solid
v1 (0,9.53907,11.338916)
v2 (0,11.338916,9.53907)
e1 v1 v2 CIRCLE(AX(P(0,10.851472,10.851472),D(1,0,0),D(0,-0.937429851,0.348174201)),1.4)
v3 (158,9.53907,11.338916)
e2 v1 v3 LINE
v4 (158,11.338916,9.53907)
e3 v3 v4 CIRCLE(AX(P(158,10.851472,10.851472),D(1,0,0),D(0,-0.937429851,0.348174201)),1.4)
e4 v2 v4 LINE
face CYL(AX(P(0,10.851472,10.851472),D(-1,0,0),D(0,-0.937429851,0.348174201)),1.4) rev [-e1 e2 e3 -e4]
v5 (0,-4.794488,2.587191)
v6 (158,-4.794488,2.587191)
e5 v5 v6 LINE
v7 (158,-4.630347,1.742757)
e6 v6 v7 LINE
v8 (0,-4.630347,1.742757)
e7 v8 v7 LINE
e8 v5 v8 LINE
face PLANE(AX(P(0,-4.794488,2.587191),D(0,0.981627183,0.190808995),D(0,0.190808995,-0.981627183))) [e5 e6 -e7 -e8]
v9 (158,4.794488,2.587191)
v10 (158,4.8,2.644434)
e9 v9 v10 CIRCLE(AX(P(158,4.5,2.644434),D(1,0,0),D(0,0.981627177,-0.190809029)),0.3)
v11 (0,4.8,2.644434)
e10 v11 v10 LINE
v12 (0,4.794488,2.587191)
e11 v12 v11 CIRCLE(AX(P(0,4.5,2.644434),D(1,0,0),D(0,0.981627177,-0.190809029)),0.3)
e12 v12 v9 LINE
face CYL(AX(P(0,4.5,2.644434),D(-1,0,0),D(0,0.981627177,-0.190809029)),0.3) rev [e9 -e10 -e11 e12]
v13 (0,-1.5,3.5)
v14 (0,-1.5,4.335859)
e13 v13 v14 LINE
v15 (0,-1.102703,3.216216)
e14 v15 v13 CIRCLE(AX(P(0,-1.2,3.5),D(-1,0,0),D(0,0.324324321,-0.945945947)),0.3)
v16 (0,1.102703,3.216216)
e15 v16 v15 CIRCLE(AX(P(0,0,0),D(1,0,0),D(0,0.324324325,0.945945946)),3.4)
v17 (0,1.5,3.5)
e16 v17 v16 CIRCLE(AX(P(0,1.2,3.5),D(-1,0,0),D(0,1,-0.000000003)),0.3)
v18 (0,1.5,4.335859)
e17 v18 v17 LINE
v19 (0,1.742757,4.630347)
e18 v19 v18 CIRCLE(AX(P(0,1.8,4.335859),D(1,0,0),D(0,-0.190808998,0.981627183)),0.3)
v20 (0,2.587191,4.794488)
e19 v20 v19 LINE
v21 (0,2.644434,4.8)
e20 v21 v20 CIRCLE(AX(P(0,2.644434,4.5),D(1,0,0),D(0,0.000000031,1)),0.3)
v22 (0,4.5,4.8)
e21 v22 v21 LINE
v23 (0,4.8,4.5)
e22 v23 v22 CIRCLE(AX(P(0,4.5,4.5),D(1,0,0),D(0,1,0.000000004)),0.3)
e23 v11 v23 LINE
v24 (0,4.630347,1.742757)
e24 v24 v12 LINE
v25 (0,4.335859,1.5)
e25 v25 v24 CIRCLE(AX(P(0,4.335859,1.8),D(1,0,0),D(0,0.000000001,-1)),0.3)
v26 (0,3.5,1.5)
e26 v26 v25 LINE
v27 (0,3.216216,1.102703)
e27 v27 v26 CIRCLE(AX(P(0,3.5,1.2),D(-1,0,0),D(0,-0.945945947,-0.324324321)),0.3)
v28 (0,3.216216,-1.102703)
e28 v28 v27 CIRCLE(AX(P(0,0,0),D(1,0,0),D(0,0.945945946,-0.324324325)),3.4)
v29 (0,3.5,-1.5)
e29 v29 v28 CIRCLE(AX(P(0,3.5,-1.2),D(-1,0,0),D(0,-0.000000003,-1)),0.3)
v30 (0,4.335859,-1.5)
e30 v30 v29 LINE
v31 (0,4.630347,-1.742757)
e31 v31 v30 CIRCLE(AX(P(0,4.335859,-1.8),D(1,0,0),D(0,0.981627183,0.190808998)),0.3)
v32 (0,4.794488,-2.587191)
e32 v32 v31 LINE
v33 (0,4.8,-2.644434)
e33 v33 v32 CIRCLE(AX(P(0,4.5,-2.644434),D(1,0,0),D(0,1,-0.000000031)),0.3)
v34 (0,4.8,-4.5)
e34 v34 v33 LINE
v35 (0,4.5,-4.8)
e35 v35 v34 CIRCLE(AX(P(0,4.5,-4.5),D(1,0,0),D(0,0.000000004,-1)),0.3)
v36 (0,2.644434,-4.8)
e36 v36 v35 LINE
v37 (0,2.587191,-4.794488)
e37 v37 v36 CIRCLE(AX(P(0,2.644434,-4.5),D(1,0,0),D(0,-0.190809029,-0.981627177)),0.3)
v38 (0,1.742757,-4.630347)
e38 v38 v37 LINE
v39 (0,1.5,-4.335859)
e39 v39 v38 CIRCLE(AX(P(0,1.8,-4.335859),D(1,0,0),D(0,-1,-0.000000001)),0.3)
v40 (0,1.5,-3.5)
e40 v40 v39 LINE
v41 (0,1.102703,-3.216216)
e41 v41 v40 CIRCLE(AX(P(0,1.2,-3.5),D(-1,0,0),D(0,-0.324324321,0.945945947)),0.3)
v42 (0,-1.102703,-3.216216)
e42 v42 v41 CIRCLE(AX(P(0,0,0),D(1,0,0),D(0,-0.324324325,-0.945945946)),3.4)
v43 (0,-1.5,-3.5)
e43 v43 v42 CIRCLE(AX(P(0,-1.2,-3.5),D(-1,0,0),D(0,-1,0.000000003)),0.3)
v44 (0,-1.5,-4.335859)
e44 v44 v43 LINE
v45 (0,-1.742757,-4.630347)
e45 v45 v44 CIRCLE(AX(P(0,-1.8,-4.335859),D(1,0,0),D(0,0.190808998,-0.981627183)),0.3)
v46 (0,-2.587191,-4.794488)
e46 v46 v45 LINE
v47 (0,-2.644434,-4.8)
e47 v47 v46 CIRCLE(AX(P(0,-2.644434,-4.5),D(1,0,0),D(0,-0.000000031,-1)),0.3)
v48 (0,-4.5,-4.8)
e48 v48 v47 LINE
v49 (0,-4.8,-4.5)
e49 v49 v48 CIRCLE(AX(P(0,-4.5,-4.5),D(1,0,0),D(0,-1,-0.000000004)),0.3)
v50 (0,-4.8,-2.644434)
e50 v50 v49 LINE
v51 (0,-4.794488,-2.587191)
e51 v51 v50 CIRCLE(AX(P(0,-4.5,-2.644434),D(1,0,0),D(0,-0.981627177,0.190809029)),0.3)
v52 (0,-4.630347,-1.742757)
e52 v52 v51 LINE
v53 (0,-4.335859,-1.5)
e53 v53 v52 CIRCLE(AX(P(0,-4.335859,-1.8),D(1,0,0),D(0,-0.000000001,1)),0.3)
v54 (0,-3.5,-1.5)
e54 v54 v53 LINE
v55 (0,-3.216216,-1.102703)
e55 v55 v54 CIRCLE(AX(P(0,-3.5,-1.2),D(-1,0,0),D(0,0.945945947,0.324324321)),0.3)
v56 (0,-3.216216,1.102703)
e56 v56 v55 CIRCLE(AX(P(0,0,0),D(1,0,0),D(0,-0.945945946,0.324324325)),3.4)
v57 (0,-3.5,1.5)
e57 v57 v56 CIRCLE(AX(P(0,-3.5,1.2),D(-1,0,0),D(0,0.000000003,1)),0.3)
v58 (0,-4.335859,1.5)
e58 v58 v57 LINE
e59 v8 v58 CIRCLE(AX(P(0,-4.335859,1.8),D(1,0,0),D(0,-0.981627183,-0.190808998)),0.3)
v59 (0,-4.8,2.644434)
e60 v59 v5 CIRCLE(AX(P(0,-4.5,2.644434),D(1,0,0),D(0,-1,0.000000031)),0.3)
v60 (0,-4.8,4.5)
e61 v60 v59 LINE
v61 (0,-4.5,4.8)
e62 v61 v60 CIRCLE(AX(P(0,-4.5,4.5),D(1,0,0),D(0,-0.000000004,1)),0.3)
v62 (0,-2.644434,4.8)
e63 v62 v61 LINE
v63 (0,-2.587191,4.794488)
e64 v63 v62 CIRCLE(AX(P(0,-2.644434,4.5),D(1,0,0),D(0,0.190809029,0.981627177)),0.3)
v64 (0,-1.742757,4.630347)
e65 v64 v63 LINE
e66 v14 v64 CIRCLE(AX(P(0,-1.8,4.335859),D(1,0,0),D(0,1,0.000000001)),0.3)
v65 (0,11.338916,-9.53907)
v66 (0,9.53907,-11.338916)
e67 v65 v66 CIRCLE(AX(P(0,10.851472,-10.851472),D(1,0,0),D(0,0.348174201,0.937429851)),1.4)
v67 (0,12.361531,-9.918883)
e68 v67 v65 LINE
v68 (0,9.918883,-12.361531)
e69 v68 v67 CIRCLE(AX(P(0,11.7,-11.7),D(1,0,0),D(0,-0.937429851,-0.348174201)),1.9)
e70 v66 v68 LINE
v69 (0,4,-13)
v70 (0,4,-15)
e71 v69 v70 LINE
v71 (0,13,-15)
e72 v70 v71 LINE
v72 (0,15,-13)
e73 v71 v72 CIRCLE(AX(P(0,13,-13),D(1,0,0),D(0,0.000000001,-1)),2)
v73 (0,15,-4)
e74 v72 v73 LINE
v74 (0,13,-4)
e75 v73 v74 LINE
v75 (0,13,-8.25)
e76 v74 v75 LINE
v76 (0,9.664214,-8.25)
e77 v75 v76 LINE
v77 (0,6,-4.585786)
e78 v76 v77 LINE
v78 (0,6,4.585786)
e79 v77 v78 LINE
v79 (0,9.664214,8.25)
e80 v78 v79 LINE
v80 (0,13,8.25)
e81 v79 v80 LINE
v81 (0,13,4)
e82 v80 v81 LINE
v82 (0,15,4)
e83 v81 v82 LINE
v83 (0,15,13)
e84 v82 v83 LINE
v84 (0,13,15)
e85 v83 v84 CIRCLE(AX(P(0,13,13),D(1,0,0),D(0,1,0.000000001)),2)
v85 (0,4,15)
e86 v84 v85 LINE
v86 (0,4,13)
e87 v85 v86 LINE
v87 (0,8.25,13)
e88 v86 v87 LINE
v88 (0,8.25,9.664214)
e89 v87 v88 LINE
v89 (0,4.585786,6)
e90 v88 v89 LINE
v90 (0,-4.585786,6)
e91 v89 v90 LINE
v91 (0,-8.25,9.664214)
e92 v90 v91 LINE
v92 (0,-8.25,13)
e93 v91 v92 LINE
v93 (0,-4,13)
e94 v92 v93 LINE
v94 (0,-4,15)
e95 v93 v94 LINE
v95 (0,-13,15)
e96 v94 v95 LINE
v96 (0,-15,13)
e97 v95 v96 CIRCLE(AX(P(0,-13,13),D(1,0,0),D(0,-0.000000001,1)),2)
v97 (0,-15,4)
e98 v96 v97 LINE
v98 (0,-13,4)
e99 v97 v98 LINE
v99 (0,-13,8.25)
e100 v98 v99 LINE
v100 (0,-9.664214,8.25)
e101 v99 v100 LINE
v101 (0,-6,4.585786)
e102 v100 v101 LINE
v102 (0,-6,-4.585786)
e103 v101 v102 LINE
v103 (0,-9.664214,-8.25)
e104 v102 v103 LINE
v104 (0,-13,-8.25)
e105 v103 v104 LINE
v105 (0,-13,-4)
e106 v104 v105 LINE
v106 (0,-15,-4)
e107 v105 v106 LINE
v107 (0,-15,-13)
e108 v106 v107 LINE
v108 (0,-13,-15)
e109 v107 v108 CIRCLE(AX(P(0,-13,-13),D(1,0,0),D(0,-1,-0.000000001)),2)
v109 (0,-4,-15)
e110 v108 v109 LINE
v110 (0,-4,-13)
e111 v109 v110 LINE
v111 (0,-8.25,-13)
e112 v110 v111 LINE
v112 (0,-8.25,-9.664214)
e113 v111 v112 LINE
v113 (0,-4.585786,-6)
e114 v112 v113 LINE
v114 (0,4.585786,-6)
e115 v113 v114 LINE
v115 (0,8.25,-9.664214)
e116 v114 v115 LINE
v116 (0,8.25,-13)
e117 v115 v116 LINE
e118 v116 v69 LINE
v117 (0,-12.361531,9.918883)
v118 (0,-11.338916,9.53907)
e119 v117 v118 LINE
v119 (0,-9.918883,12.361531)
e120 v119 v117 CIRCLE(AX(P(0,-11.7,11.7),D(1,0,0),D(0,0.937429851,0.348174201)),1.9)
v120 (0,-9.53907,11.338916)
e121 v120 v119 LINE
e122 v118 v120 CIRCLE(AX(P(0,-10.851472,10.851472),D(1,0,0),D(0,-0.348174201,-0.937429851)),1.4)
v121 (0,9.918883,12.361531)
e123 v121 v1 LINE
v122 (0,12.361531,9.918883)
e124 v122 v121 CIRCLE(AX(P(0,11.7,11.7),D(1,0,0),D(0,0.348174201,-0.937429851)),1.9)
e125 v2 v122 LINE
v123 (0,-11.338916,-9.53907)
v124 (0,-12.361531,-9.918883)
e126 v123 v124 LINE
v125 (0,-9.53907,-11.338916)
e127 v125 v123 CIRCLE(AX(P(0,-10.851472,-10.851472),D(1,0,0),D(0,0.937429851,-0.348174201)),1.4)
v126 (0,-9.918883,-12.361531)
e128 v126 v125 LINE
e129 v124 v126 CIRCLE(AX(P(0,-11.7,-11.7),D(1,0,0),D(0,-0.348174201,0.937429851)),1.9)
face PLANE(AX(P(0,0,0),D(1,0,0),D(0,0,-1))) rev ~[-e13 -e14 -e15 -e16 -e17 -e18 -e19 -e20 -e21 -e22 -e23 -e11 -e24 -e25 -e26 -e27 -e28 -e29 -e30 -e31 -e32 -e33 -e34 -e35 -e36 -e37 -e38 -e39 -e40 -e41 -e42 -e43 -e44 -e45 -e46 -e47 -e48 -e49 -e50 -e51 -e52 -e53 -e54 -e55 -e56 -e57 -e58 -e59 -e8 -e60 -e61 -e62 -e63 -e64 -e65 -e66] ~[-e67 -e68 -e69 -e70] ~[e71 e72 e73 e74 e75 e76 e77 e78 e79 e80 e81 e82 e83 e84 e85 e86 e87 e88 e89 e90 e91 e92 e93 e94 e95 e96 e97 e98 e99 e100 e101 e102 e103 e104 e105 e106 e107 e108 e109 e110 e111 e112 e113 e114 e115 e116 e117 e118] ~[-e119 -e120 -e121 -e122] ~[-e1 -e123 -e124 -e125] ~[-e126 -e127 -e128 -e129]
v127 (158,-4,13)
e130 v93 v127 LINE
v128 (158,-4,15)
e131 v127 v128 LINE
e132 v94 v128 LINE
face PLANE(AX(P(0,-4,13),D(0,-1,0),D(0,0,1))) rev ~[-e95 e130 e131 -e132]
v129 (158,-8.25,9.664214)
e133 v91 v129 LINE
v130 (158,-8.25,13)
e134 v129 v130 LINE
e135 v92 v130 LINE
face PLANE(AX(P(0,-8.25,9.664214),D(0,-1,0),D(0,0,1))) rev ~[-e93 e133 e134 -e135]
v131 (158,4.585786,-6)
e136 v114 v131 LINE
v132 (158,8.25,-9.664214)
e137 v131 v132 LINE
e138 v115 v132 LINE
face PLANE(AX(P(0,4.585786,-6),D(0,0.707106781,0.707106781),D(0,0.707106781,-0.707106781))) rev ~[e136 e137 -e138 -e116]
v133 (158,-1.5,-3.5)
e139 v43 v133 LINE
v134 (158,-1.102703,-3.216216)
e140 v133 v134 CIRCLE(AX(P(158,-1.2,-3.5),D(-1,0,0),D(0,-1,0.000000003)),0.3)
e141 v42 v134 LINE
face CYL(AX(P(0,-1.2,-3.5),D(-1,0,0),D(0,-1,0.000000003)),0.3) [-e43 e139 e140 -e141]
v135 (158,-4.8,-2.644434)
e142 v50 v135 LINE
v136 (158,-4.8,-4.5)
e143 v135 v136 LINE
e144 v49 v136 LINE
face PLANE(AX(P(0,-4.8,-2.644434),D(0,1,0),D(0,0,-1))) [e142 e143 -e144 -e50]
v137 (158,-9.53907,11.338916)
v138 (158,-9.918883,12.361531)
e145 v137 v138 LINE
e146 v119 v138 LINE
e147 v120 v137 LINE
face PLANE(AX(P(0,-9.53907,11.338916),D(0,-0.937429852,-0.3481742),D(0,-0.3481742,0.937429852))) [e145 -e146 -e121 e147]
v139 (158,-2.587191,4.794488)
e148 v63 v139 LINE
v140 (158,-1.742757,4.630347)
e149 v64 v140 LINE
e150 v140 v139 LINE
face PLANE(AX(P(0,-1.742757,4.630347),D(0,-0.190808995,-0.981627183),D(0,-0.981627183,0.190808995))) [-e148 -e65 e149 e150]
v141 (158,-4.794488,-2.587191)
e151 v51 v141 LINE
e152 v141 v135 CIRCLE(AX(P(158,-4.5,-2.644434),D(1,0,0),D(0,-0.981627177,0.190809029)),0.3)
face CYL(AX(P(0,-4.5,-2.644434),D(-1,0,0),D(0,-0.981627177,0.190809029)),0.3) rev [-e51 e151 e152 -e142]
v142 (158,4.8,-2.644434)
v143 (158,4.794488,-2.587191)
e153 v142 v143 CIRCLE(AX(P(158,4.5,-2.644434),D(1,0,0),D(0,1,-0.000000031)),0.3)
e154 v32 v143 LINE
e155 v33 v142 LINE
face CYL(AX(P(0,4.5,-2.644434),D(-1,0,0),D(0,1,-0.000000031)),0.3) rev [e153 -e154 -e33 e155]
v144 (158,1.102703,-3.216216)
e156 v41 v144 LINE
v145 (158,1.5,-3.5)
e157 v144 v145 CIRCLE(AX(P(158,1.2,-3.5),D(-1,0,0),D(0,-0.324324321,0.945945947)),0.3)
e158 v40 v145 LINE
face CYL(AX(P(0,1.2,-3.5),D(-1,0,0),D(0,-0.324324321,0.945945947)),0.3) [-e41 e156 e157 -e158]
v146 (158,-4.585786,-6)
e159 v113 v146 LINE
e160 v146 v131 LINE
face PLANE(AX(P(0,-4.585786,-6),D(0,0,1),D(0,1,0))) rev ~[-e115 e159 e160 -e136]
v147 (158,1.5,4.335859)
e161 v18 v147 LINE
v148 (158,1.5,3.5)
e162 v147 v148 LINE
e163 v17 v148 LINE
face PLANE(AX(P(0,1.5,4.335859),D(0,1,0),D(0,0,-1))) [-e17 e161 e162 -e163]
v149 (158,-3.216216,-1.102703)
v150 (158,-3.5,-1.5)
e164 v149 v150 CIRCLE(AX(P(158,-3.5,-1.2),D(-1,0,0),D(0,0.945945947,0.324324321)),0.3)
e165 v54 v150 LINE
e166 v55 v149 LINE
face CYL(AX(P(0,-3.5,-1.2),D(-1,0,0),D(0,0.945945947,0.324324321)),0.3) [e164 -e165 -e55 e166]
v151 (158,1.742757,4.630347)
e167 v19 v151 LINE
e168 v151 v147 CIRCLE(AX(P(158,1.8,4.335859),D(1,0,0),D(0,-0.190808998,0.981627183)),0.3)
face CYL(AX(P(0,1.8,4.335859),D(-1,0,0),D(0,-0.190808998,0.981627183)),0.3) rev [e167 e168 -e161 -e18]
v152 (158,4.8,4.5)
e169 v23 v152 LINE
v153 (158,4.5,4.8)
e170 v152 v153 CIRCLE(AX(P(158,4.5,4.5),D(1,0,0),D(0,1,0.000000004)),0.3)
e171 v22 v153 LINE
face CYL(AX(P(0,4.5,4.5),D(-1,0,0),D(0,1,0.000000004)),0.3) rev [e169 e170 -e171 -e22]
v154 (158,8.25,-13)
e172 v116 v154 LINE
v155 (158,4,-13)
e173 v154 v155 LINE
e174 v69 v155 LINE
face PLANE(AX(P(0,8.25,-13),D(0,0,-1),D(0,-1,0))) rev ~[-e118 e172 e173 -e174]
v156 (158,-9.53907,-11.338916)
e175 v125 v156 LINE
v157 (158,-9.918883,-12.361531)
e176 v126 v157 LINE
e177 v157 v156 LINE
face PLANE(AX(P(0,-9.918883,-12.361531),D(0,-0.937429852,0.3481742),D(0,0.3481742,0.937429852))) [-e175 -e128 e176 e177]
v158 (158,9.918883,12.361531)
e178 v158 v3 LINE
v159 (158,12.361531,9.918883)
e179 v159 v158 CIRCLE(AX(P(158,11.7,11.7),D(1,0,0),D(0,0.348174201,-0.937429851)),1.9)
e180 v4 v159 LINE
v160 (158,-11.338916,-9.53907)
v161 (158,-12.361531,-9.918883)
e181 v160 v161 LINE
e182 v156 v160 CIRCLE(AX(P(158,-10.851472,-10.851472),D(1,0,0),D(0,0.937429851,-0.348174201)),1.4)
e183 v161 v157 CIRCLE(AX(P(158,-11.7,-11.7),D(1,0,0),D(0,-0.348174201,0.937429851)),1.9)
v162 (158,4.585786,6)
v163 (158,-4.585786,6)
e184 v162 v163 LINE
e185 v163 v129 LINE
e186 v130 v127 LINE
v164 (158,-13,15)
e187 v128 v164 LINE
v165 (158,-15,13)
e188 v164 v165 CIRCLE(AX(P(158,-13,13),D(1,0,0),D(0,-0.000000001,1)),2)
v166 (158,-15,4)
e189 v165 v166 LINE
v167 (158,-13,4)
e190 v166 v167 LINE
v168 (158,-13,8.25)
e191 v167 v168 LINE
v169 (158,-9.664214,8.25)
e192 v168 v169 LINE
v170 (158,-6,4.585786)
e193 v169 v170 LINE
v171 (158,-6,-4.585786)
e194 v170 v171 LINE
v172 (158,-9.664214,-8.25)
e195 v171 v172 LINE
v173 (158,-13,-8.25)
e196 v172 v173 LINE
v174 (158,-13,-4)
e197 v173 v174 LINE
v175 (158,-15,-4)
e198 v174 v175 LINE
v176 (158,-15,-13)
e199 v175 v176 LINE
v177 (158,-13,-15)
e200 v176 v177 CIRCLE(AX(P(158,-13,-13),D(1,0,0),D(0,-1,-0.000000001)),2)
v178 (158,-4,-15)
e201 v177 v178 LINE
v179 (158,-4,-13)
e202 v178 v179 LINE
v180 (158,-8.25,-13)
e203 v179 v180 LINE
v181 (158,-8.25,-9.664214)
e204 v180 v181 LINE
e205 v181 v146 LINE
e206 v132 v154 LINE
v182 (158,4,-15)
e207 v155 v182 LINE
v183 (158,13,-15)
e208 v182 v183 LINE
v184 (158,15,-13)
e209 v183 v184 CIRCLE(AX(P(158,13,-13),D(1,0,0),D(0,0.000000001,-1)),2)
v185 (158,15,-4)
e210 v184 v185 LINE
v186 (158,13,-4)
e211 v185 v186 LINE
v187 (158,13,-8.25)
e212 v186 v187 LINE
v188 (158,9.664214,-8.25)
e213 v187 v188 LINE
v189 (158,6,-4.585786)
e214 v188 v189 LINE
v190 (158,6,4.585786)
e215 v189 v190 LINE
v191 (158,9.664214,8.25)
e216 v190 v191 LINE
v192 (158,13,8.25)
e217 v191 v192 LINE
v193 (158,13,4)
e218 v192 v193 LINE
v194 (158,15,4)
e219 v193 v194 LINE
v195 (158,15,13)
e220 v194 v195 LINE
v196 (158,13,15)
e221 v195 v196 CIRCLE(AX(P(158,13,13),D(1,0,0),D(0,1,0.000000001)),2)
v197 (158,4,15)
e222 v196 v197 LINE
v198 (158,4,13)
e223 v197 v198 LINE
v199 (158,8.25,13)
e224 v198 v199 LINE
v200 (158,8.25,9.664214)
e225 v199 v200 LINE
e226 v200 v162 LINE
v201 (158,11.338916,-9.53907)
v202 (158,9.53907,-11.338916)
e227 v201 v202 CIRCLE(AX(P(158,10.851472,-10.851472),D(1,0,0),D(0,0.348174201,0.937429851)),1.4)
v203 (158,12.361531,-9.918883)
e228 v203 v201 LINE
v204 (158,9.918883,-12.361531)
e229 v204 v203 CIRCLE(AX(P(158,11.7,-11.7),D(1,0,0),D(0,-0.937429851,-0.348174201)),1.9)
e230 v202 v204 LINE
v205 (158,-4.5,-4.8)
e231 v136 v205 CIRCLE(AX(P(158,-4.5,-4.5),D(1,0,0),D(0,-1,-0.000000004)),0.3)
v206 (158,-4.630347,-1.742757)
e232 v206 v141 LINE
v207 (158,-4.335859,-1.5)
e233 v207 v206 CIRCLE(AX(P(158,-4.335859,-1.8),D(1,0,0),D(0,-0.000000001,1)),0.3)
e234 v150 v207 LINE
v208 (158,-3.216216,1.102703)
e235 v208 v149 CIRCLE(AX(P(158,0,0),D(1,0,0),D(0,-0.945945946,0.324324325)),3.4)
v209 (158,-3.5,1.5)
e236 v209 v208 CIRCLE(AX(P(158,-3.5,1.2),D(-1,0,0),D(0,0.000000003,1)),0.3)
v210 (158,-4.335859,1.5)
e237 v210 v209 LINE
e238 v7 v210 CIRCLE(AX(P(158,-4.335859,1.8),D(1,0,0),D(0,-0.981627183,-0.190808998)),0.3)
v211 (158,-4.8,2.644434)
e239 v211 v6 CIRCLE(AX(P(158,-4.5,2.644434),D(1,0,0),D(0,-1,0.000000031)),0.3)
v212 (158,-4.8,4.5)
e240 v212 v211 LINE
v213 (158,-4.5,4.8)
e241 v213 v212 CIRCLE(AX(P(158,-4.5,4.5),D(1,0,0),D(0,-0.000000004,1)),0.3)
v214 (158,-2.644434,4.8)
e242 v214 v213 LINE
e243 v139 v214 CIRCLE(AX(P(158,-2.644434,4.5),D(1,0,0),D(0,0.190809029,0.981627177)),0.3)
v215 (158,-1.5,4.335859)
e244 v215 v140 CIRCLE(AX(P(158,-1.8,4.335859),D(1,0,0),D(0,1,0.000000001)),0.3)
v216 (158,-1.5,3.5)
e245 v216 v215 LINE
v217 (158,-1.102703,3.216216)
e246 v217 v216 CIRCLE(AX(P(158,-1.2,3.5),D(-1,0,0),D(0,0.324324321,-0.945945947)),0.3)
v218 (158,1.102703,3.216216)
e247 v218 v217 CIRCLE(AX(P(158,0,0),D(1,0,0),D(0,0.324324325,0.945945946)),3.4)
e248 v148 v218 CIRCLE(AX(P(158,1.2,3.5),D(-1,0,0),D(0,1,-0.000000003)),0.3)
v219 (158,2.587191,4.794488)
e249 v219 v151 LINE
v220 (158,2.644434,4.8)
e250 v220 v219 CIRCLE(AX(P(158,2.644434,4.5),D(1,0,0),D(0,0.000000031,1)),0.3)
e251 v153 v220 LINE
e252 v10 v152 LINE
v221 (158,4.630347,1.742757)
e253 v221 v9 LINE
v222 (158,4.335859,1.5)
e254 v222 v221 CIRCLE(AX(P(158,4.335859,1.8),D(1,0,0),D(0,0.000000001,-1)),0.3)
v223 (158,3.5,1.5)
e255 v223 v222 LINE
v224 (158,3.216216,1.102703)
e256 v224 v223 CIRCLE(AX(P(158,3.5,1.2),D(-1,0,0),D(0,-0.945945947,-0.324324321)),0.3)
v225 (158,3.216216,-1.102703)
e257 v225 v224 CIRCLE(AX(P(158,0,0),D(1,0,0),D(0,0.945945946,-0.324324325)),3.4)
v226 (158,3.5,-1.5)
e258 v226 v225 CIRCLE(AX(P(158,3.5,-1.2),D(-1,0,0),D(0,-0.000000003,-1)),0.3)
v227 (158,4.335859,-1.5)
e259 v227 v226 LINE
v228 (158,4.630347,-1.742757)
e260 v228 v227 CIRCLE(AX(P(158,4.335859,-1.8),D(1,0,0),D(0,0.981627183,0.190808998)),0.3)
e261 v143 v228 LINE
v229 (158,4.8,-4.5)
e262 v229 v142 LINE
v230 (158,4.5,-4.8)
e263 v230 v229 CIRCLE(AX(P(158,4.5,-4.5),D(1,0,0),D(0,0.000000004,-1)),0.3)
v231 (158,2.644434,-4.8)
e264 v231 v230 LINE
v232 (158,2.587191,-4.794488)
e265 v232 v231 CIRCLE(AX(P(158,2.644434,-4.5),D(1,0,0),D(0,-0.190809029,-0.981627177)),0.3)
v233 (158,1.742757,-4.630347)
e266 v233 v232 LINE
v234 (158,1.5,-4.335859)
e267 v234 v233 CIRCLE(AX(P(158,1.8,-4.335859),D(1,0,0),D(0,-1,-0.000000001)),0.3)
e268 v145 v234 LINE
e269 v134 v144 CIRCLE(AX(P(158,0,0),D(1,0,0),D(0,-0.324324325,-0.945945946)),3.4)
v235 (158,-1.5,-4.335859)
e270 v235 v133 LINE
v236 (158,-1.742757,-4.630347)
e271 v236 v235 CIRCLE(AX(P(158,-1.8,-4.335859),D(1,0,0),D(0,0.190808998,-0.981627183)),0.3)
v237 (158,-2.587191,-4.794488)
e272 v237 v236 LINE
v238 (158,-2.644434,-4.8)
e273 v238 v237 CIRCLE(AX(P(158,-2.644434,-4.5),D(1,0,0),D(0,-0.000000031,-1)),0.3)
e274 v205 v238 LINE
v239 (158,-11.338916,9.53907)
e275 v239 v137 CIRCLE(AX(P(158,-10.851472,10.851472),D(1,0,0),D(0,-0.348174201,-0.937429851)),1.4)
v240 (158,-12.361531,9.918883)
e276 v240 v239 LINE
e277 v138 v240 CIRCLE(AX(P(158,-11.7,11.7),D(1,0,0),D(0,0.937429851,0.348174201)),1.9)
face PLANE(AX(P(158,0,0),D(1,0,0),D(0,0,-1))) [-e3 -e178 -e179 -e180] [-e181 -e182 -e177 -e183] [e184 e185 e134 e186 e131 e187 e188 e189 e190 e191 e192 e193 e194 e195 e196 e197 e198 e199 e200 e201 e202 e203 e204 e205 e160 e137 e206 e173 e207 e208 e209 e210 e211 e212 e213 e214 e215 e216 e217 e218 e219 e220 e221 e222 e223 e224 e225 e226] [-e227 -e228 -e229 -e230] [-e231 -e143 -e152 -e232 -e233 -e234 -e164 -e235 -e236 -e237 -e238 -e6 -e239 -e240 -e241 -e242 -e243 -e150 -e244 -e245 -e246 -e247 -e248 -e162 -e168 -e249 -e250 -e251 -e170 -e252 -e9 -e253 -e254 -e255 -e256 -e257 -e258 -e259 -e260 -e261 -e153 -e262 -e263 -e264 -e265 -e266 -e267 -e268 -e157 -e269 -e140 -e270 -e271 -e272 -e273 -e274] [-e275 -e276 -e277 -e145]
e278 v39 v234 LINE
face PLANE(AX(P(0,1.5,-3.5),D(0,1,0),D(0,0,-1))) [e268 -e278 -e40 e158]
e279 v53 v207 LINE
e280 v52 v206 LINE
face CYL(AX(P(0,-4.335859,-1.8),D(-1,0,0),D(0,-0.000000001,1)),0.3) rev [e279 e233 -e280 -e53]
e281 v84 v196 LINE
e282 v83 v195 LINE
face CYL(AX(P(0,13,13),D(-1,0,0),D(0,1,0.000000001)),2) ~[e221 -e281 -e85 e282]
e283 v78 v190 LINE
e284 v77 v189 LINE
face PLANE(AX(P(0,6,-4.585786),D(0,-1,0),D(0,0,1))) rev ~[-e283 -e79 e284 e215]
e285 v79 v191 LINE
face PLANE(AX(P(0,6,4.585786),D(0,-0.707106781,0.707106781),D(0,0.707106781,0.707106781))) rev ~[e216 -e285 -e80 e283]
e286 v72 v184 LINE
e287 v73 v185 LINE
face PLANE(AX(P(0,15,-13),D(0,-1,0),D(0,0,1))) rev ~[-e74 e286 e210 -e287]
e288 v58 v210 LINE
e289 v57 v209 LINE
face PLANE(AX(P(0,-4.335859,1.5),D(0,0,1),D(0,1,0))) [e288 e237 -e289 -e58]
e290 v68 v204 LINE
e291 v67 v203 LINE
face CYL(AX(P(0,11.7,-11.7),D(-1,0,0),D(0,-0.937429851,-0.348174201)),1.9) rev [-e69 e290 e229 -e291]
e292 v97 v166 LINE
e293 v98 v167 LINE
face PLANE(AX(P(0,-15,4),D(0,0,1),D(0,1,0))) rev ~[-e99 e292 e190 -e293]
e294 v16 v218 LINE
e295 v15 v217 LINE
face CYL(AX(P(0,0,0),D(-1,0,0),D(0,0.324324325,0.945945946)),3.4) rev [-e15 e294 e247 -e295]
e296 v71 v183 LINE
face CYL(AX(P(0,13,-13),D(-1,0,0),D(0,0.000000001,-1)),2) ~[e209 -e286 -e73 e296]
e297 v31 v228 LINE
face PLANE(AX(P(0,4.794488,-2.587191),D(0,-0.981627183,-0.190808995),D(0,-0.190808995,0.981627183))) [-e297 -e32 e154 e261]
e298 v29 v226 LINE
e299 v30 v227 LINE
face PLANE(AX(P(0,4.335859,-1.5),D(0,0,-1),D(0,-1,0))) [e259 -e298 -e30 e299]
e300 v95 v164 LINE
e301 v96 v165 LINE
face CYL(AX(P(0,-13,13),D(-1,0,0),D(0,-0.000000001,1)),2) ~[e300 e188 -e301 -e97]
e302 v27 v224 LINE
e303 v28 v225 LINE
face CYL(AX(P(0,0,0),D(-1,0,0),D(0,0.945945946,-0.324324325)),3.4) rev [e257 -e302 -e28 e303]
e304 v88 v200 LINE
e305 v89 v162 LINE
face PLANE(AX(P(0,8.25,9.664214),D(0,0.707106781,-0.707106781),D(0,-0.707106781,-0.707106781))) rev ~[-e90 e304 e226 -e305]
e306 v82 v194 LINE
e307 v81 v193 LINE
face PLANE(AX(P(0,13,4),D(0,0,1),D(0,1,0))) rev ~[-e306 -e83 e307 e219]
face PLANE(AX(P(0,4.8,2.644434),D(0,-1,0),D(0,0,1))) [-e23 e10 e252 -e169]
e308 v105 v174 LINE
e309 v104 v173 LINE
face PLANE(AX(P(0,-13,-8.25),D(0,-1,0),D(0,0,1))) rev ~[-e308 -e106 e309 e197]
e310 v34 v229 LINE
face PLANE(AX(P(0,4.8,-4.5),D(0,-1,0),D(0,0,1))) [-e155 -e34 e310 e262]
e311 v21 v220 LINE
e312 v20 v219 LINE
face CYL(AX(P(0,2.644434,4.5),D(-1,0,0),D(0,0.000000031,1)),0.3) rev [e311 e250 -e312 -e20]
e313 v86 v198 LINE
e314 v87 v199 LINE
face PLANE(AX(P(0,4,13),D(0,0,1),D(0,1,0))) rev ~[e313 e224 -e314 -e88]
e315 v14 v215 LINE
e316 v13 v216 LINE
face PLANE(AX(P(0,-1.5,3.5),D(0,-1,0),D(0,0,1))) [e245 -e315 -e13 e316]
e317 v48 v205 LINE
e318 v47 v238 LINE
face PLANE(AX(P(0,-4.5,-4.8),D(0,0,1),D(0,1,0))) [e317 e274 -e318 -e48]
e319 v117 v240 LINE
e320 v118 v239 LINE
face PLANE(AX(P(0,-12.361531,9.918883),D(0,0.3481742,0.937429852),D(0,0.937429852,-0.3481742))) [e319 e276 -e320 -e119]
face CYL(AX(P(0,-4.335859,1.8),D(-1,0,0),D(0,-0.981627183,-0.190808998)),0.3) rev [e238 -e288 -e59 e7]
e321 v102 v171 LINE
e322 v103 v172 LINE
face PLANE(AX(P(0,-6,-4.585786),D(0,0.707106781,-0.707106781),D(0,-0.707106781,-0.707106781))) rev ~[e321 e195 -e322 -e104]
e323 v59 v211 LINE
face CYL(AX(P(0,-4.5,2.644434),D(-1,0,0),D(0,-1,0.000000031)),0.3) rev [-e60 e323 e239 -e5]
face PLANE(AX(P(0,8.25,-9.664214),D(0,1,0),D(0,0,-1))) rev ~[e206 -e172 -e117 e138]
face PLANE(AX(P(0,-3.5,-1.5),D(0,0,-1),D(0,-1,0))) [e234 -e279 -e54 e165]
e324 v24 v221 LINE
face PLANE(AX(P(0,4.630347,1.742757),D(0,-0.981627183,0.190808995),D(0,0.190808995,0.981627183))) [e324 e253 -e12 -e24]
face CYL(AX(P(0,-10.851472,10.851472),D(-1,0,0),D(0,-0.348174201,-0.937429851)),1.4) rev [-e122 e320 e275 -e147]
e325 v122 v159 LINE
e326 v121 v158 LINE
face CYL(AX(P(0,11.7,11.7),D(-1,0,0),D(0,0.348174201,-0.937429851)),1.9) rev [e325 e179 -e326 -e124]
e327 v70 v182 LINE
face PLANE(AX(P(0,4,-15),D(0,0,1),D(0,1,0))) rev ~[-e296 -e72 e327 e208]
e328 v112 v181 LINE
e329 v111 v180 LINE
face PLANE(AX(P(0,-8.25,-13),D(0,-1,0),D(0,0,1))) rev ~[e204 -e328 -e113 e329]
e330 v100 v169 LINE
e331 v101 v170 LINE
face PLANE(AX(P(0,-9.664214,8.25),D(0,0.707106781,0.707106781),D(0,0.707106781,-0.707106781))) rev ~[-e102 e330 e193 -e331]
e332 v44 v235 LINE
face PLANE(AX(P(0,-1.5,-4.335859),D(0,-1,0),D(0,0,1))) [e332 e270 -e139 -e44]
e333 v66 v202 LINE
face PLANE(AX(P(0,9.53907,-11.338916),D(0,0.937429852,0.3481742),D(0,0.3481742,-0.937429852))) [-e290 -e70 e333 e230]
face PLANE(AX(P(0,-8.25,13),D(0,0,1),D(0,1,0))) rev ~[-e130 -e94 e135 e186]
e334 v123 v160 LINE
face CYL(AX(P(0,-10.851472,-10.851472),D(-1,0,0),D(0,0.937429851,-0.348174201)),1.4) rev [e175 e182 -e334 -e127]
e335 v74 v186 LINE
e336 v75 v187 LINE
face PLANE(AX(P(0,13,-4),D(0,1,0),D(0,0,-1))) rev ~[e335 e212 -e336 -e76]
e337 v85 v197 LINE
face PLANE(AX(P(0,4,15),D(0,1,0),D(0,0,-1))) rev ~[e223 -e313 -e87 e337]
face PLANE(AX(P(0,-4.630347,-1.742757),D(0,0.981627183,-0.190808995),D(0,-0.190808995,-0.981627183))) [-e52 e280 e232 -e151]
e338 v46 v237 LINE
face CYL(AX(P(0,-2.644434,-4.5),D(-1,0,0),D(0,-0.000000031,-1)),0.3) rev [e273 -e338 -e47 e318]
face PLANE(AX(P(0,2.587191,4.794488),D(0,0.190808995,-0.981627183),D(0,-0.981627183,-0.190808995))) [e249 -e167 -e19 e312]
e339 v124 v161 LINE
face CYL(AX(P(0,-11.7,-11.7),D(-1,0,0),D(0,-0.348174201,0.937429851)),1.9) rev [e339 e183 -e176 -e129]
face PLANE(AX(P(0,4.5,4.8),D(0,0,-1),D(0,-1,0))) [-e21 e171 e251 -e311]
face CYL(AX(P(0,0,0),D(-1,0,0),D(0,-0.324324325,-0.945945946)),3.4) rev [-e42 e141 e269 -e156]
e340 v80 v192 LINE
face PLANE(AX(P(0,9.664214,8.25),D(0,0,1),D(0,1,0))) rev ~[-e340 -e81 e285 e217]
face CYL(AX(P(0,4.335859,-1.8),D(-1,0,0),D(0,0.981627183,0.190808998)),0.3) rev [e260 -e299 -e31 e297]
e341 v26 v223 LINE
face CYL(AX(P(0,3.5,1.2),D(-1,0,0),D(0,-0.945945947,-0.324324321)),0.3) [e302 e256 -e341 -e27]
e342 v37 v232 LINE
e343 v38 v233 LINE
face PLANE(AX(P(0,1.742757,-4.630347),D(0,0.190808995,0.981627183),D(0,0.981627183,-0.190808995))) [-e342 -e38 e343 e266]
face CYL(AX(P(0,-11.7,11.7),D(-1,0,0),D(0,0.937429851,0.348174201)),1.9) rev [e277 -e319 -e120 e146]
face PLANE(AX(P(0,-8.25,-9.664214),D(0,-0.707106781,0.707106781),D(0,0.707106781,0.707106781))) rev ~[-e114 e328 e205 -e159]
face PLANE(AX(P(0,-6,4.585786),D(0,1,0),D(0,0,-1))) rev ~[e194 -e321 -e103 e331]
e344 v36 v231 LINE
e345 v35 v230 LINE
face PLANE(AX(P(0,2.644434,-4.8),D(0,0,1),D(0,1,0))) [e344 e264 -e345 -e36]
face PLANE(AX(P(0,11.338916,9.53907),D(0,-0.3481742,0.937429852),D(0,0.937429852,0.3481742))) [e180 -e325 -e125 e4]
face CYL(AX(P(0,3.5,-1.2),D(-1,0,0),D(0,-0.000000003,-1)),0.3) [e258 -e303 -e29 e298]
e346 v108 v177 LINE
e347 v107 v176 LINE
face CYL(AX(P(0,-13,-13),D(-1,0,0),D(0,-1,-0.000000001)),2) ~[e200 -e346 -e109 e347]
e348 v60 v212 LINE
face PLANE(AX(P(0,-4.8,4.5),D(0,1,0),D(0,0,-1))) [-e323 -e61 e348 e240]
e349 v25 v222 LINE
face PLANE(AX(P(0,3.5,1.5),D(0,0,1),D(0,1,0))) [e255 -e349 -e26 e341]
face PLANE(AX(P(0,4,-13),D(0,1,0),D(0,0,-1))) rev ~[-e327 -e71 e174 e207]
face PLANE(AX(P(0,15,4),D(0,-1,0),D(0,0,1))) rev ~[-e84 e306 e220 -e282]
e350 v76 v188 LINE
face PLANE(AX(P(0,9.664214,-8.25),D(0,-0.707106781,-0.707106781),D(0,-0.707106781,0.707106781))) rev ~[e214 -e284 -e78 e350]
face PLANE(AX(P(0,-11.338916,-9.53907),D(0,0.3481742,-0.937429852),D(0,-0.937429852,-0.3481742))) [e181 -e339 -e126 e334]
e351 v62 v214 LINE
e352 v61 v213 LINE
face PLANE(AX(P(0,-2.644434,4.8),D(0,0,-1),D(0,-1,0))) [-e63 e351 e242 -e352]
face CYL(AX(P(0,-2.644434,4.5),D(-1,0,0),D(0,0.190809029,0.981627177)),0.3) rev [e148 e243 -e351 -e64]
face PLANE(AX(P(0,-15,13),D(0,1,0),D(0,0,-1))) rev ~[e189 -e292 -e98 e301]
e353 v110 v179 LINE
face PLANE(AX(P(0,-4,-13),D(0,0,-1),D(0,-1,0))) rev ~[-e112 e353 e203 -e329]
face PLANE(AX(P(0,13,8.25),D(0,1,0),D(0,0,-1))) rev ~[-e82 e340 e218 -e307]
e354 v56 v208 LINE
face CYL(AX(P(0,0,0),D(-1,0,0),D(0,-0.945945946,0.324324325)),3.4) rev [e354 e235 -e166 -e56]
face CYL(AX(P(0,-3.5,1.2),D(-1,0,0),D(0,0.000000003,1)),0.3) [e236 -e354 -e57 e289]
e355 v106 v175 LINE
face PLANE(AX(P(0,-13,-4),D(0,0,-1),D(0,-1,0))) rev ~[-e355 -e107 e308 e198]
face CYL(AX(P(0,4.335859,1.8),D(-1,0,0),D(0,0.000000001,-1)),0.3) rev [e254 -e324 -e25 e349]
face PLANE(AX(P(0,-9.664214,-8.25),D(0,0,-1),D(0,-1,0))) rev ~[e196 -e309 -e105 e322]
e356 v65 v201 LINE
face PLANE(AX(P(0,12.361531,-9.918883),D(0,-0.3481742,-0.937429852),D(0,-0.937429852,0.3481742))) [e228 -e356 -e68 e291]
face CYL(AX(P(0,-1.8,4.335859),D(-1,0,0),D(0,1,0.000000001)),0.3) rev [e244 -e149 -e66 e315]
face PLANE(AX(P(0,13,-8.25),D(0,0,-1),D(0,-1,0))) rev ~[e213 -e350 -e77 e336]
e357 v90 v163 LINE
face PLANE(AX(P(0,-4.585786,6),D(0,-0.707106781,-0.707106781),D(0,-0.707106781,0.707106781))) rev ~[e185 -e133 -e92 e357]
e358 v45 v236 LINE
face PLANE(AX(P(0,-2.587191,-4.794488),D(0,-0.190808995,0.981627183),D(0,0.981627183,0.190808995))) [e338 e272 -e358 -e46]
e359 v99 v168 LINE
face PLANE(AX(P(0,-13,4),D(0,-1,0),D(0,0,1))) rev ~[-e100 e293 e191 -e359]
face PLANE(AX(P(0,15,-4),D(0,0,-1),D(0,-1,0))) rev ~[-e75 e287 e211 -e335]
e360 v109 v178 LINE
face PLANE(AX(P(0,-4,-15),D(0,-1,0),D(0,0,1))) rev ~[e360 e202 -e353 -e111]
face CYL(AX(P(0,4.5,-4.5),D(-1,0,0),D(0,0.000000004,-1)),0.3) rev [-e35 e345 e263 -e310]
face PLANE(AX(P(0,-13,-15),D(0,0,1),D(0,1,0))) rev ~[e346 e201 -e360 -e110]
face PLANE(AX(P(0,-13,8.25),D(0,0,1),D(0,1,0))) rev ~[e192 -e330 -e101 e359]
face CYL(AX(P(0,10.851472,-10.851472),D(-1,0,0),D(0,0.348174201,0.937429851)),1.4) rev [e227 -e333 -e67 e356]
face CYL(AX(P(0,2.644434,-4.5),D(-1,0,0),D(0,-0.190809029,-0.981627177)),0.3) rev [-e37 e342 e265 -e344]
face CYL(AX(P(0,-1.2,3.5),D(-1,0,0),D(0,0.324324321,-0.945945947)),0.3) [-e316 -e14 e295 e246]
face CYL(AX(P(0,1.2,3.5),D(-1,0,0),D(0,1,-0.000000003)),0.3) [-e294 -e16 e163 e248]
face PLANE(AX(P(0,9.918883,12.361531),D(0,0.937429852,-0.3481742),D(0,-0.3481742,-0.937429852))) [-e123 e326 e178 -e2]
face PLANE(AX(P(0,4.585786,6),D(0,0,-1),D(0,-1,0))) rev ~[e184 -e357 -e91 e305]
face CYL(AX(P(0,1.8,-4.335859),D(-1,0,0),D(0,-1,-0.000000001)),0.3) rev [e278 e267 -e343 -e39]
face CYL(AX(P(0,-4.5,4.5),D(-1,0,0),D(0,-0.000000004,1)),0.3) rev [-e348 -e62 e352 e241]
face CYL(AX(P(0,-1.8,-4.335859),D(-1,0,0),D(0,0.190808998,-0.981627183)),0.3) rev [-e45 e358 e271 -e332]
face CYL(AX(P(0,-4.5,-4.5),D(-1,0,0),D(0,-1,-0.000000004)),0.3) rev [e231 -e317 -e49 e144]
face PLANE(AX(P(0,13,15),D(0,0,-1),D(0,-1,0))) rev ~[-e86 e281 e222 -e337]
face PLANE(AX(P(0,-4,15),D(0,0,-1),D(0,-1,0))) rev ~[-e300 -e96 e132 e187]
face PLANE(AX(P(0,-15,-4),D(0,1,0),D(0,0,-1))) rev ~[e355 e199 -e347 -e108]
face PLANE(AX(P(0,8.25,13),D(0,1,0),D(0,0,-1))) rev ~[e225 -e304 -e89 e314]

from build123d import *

# Parameters (mm, degrees)
BOSS_EXTRUDE1_DEPTH = 158


with BuildPart() as part:
    # Sketch1 → Boss-Extrude1 (new body)
    with BuildSketch(Plane(origin=(0, 0, 0), x_dir=(0, 0, -1), z_dir=(1, 0, 0))):
        with BuildLine():
            Line((-15, 13), (-15, 4))
            Line((-15, 4), (-13, 4))
            Line((-13, 4), (-13, 8.25))
            Line((-13, 8.25), (-9.664213562, 8.25))
            Line((-9.664213562, 8.25), (-6, 4.585786438))
            Line((-6, 4.585786438), (-6, -4.585786438))
            Line((-6, -4.585786438), (-9.664213562, -8.25))
            Line((-9.664213562, -8.25), (-13, -8.25))
            Line((-13, -8.25), (-13, -4))
            Line((-13, -4), (-15, -4))
            Line((-15, -4), (-15, -13))
            ThreePointArc((-15, -13), (-14.414213562, -14.414213562), (-13, -15))
            Line((-13, -15), (-4, -15))
            Line((-4, -15), (-4, -13))
            Line((-4, -13), (-8.25, -13))
            Line((-8.25, -13), (-8.25, -9.664213562))
            Line((-8.25, -9.664213562), (-4.585786438, -6))
            Line((-4.585786438, -6), (4.585786438, -6))
            Line((4.585786438, -6), (8.25, -9.664213562))
            Line((8.25, -9.664213562), (8.25, -13))
            Line((8.25, -13), (4, -13))
            Line((4, -13), (4, -15))
            Line((4, -15), (13, -15))
            ThreePointArc((13, -15), (14.414213562, -14.414213562), (15, -13))
            Line((15, -13), (15, -4))
            Line((15, -4), (13, -4))
            Line((13, -4), (13, -8.25))
            Line((13, -8.25), (9.664213562, -8.25))
            Line((9.664213562, -8.25), (6, -4.585786438))
            Line((6, -4.585786438), (6, 4.585786438))
            Line((6, 4.585786438), (9.664213562, 8.25))
            Line((9.664213562, 8.25), (13, 8.25))
            Line((13, 8.25), (13, 4))
            Line((13, 4), (15, 4))
            Line((15, 4), (15, 13))
            ThreePointArc((15, 13), (14.414213562, 14.414213562), (13, 15))
            Line((13, 15), (4, 15))
            Line((4, 15), (4, 13))
            Line((4, 13), (8.25, 13))
            Line((8.25, 13), (8.25, 9.664213562))
            Line((8.25, 9.664213562), (4.585786438, 6))
            Line((4.585786438, 6), (-4.585786438, 6))
            Line((-4.585786438, 6), (-8.25, 9.664213562))
            Line((-8.25, 9.664213562), (-8.25, 13))
            Line((-8.25, 13), (-4, 13))
            Line((-4, 13), (-4, 15))
            Line((-4, 15), (-13, 15))
            ThreePointArc((-13, 15), (-14.414213562, 14.414213562), (-15, 13))
        make_face()
        with BuildLine():
            Line((-9.539070071, 11.338915743), (-9.918883282, 12.361530981))
            ThreePointArc((-9.918883282, 12.361530981), (-13.043502884, 13.043502884), (-12.361530981, 9.918883282))
            Line((-12.361530981, 9.918883282), (-11.338915743, 9.539070071))
            ThreePointArc((-11.338915743, 9.539070071), (-9.861522369, 9.861522369), (-9.539070071, 11.338915743))
        make_face(mode=Mode.SUBTRACT)
        with BuildLine():
            Line((9.918883282, 12.361530981), (9.539070071, 11.338915743))
            ThreePointArc((9.539070071, 11.338915743), (9.861522369, 9.861522369), (11.338915743, 9.539070071))
            Line((11.338915743, 9.539070071), (12.361530981, 9.918883282))
            ThreePointArc((12.361530981, 9.918883282), (13.043502884, 13.043502884), (9.918883282, 12.361530981))
        make_face(mode=Mode.SUBTRACT)
        with BuildLine():
            Line((12.361530981, -9.918883282), (11.338915743, -9.539070071))
            ThreePointArc((11.338915743, -9.539070071), (9.861522369, -9.861522369), (9.539070071, -11.338915743))
            Line((9.539070071, -11.338915743), (9.918883282, -12.361530981))
            ThreePointArc((9.918883282, -12.361530981), (13.043502884, -13.043502884), (12.361530981, -9.918883282))
        make_face(mode=Mode.SUBTRACT)
        with BuildLine():
            Line((-11.338915743, -9.539070071), (-12.361530981, -9.918883282))
            ThreePointArc((-12.361530981, -9.918883282), (-13.043502884, -13.043502884), (-9.918883282, -12.361530981))
            Line((-9.918883282, -12.361530981), (-9.539070071, -11.338915743))
            ThreePointArc((-9.539070071, -11.338915743), (-9.861522369, -9.861522369), (-11.338915743, -9.539070071))
        make_face(mode=Mode.SUBTRACT)
        with BuildLine():
            Line((-4.8, -2.644433572), (-4.8, -4.5))
            ThreePointArc((-4.8, -4.5), (-4.712132034, -4.712132034), (-4.5, -4.8))
            Line((-4.5, -4.8), (-2.644433572, -4.8))
            ThreePointArc((-2.644433572, -4.8), (-2.615679847, -4.79861886), (-2.587190874, -4.794488155))
            Line((-2.587190874, -4.794488155), (-1.742757301, -4.630346896))
            ThreePointArc((-1.742757301, -4.630346896), (-1.568512625, -4.526682207), (-1.5, -4.335858741))
            Line((-1.5, -4.335858741), (-1.5, -3.5))
            ThreePointArc((-1.5, -3.5), (-1.374371458, -3.255879959), (-1.102702703, -3.216216216))
            ThreePointArc((-1.102702703, -3.216216216), (0, -3.4), (1.102702703, -3.216216216))
            ThreePointArc((1.102702703, -3.216216216), (1.374371458, -3.255879959), (1.5, -3.5))
            Line((1.5, -3.5), (1.5, -4.335858741))
            ThreePointArc((1.5, -4.335858741), (1.568512625, -4.526682207), (1.742757301, -4.630346896))
            Line((1.742757301, -4.630346896), (2.587190874, -4.794488155))
            ThreePointArc((2.587190874, -4.794488155), (2.615679847, -4.79861886), (2.644433572, -4.8))
            Line((2.644433572, -4.8), (4.5, -4.8))
            ThreePointArc((4.5, -4.8), (4.712132034, -4.712132034), (4.8, -4.5))
            Line((4.8, -4.5), (4.8, -2.644433572))
            ThreePointArc((4.8, -2.644433572), (4.79861886, -2.615679847), (4.794488155, -2.587190874))
            Line((4.794488155, -2.587190874), (4.630346896, -1.742757301))
            ThreePointArc((4.630346896, -1.742757301), (4.526682207, -1.568512625), (4.335858741, -1.5))
            Line((4.335858741, -1.5), (3.5, -1.5))
            ThreePointArc((3.5, -1.5), (3.255879959, -1.374371458), (3.216216216, -1.102702703))
            ThreePointArc((3.216216216, -1.102702703), (3.4, 0), (3.216216216, 1.102702703))
            ThreePointArc((3.216216216, 1.102702703), (3.255879959, 1.374371458), (3.5, 1.5))
            Line((3.5, 1.5), (4.335858741, 1.5))
            ThreePointArc((4.335858741, 1.5), (4.526682207, 1.568512625), (4.630346896, 1.742757301))
            Line((4.630346896, 1.742757301), (4.794488155, 2.587190874))
            ThreePointArc((4.794488155, 2.587190874), (4.79861886, 2.615679847), (4.8, 2.644433572))
            Line((4.8, 2.644433572), (4.8, 4.5))
            ThreePointArc((4.8, 4.5), (4.712132034, 4.712132034), (4.5, 4.8))
            Line((4.5, 4.8), (2.644433572, 4.8))
            ThreePointArc((2.644433572, 4.8), (2.615679847, 4.79861886), (2.587190874, 4.794488155))
            Line((2.587190874, 4.794488155), (1.742757301, 4.630346896))
            ThreePointArc((1.742757301, 4.630346896), (1.568512625, 4.526682207), (1.5, 4.335858741))
            Line((1.5, 4.335858741), (1.5, 3.5))
            ThreePointArc((1.5, 3.5), (1.374371458, 3.255879959), (1.102702703, 3.216216216))
            ThreePointArc((1.102702703, 3.216216216), (0, 3.4), (-1.102702703, 3.216216216))
            ThreePointArc((-1.102702703, 3.216216216), (-1.374371458, 3.255879959), (-1.5, 3.5))
            Line((-1.5, 3.5), (-1.5, 4.335858741))
            ThreePointArc((-1.5, 4.335858741), (-1.568512625, 4.526682207), (-1.742757301, 4.630346896))
            Line((-1.742757301, 4.630346896), (-2.587190874, 4.794488155))
            ThreePointArc((-2.587190874, 4.794488155), (-2.615679847, 4.79861886), (-2.644433572, 4.8))
            Line((-2.644433572, 4.8), (-4.5, 4.8))
            ThreePointArc((-4.5, 4.8), (-4.712132034, 4.712132034), (-4.8, 4.5))
            Line((-4.8, 4.5), (-4.8, 2.644433572))
            ThreePointArc((-4.8, 2.644433572), (-4.79861886, 2.615679847), (-4.794488155, 2.587190874))
            Line((-4.794488155, 2.587190874), (-4.630346896, 1.742757301))
            ThreePointArc((-4.630346896, 1.742757301), (-4.526682207, 1.568512625), (-4.335858741, 1.5))
            Line((-4.335858741, 1.5), (-3.5, 1.5))
            ThreePointArc((-3.5, 1.5), (-3.255879959, 1.374371458), (-3.216216216, 1.102702703))
            ThreePointArc((-3.216216216, 1.102702703), (-3.4, 0), (-3.216216216, -1.102702703))
            ThreePointArc((-3.216216216, -1.102702703), (-3.255879959, -1.374371458), (-3.5, -1.5))
            Line((-3.5, -1.5), (-4.335858741, -1.5))
            ThreePointArc((-4.335858741, -1.5), (-4.526682207, -1.568512625), (-4.630346896, -1.742757301))
            Line((-4.630346896, -1.742757301), (-4.794488155, -2.587190874))
            ThreePointArc((-4.794488155, -2.587190874), (-4.79861886, -2.615679847), (-4.8, -2.644433572))
        make_face(mode=Mode.SUBTRACT)
    extrude(amount=BOSS_EXTRUDE1_DEPTH)


solid = part.part
